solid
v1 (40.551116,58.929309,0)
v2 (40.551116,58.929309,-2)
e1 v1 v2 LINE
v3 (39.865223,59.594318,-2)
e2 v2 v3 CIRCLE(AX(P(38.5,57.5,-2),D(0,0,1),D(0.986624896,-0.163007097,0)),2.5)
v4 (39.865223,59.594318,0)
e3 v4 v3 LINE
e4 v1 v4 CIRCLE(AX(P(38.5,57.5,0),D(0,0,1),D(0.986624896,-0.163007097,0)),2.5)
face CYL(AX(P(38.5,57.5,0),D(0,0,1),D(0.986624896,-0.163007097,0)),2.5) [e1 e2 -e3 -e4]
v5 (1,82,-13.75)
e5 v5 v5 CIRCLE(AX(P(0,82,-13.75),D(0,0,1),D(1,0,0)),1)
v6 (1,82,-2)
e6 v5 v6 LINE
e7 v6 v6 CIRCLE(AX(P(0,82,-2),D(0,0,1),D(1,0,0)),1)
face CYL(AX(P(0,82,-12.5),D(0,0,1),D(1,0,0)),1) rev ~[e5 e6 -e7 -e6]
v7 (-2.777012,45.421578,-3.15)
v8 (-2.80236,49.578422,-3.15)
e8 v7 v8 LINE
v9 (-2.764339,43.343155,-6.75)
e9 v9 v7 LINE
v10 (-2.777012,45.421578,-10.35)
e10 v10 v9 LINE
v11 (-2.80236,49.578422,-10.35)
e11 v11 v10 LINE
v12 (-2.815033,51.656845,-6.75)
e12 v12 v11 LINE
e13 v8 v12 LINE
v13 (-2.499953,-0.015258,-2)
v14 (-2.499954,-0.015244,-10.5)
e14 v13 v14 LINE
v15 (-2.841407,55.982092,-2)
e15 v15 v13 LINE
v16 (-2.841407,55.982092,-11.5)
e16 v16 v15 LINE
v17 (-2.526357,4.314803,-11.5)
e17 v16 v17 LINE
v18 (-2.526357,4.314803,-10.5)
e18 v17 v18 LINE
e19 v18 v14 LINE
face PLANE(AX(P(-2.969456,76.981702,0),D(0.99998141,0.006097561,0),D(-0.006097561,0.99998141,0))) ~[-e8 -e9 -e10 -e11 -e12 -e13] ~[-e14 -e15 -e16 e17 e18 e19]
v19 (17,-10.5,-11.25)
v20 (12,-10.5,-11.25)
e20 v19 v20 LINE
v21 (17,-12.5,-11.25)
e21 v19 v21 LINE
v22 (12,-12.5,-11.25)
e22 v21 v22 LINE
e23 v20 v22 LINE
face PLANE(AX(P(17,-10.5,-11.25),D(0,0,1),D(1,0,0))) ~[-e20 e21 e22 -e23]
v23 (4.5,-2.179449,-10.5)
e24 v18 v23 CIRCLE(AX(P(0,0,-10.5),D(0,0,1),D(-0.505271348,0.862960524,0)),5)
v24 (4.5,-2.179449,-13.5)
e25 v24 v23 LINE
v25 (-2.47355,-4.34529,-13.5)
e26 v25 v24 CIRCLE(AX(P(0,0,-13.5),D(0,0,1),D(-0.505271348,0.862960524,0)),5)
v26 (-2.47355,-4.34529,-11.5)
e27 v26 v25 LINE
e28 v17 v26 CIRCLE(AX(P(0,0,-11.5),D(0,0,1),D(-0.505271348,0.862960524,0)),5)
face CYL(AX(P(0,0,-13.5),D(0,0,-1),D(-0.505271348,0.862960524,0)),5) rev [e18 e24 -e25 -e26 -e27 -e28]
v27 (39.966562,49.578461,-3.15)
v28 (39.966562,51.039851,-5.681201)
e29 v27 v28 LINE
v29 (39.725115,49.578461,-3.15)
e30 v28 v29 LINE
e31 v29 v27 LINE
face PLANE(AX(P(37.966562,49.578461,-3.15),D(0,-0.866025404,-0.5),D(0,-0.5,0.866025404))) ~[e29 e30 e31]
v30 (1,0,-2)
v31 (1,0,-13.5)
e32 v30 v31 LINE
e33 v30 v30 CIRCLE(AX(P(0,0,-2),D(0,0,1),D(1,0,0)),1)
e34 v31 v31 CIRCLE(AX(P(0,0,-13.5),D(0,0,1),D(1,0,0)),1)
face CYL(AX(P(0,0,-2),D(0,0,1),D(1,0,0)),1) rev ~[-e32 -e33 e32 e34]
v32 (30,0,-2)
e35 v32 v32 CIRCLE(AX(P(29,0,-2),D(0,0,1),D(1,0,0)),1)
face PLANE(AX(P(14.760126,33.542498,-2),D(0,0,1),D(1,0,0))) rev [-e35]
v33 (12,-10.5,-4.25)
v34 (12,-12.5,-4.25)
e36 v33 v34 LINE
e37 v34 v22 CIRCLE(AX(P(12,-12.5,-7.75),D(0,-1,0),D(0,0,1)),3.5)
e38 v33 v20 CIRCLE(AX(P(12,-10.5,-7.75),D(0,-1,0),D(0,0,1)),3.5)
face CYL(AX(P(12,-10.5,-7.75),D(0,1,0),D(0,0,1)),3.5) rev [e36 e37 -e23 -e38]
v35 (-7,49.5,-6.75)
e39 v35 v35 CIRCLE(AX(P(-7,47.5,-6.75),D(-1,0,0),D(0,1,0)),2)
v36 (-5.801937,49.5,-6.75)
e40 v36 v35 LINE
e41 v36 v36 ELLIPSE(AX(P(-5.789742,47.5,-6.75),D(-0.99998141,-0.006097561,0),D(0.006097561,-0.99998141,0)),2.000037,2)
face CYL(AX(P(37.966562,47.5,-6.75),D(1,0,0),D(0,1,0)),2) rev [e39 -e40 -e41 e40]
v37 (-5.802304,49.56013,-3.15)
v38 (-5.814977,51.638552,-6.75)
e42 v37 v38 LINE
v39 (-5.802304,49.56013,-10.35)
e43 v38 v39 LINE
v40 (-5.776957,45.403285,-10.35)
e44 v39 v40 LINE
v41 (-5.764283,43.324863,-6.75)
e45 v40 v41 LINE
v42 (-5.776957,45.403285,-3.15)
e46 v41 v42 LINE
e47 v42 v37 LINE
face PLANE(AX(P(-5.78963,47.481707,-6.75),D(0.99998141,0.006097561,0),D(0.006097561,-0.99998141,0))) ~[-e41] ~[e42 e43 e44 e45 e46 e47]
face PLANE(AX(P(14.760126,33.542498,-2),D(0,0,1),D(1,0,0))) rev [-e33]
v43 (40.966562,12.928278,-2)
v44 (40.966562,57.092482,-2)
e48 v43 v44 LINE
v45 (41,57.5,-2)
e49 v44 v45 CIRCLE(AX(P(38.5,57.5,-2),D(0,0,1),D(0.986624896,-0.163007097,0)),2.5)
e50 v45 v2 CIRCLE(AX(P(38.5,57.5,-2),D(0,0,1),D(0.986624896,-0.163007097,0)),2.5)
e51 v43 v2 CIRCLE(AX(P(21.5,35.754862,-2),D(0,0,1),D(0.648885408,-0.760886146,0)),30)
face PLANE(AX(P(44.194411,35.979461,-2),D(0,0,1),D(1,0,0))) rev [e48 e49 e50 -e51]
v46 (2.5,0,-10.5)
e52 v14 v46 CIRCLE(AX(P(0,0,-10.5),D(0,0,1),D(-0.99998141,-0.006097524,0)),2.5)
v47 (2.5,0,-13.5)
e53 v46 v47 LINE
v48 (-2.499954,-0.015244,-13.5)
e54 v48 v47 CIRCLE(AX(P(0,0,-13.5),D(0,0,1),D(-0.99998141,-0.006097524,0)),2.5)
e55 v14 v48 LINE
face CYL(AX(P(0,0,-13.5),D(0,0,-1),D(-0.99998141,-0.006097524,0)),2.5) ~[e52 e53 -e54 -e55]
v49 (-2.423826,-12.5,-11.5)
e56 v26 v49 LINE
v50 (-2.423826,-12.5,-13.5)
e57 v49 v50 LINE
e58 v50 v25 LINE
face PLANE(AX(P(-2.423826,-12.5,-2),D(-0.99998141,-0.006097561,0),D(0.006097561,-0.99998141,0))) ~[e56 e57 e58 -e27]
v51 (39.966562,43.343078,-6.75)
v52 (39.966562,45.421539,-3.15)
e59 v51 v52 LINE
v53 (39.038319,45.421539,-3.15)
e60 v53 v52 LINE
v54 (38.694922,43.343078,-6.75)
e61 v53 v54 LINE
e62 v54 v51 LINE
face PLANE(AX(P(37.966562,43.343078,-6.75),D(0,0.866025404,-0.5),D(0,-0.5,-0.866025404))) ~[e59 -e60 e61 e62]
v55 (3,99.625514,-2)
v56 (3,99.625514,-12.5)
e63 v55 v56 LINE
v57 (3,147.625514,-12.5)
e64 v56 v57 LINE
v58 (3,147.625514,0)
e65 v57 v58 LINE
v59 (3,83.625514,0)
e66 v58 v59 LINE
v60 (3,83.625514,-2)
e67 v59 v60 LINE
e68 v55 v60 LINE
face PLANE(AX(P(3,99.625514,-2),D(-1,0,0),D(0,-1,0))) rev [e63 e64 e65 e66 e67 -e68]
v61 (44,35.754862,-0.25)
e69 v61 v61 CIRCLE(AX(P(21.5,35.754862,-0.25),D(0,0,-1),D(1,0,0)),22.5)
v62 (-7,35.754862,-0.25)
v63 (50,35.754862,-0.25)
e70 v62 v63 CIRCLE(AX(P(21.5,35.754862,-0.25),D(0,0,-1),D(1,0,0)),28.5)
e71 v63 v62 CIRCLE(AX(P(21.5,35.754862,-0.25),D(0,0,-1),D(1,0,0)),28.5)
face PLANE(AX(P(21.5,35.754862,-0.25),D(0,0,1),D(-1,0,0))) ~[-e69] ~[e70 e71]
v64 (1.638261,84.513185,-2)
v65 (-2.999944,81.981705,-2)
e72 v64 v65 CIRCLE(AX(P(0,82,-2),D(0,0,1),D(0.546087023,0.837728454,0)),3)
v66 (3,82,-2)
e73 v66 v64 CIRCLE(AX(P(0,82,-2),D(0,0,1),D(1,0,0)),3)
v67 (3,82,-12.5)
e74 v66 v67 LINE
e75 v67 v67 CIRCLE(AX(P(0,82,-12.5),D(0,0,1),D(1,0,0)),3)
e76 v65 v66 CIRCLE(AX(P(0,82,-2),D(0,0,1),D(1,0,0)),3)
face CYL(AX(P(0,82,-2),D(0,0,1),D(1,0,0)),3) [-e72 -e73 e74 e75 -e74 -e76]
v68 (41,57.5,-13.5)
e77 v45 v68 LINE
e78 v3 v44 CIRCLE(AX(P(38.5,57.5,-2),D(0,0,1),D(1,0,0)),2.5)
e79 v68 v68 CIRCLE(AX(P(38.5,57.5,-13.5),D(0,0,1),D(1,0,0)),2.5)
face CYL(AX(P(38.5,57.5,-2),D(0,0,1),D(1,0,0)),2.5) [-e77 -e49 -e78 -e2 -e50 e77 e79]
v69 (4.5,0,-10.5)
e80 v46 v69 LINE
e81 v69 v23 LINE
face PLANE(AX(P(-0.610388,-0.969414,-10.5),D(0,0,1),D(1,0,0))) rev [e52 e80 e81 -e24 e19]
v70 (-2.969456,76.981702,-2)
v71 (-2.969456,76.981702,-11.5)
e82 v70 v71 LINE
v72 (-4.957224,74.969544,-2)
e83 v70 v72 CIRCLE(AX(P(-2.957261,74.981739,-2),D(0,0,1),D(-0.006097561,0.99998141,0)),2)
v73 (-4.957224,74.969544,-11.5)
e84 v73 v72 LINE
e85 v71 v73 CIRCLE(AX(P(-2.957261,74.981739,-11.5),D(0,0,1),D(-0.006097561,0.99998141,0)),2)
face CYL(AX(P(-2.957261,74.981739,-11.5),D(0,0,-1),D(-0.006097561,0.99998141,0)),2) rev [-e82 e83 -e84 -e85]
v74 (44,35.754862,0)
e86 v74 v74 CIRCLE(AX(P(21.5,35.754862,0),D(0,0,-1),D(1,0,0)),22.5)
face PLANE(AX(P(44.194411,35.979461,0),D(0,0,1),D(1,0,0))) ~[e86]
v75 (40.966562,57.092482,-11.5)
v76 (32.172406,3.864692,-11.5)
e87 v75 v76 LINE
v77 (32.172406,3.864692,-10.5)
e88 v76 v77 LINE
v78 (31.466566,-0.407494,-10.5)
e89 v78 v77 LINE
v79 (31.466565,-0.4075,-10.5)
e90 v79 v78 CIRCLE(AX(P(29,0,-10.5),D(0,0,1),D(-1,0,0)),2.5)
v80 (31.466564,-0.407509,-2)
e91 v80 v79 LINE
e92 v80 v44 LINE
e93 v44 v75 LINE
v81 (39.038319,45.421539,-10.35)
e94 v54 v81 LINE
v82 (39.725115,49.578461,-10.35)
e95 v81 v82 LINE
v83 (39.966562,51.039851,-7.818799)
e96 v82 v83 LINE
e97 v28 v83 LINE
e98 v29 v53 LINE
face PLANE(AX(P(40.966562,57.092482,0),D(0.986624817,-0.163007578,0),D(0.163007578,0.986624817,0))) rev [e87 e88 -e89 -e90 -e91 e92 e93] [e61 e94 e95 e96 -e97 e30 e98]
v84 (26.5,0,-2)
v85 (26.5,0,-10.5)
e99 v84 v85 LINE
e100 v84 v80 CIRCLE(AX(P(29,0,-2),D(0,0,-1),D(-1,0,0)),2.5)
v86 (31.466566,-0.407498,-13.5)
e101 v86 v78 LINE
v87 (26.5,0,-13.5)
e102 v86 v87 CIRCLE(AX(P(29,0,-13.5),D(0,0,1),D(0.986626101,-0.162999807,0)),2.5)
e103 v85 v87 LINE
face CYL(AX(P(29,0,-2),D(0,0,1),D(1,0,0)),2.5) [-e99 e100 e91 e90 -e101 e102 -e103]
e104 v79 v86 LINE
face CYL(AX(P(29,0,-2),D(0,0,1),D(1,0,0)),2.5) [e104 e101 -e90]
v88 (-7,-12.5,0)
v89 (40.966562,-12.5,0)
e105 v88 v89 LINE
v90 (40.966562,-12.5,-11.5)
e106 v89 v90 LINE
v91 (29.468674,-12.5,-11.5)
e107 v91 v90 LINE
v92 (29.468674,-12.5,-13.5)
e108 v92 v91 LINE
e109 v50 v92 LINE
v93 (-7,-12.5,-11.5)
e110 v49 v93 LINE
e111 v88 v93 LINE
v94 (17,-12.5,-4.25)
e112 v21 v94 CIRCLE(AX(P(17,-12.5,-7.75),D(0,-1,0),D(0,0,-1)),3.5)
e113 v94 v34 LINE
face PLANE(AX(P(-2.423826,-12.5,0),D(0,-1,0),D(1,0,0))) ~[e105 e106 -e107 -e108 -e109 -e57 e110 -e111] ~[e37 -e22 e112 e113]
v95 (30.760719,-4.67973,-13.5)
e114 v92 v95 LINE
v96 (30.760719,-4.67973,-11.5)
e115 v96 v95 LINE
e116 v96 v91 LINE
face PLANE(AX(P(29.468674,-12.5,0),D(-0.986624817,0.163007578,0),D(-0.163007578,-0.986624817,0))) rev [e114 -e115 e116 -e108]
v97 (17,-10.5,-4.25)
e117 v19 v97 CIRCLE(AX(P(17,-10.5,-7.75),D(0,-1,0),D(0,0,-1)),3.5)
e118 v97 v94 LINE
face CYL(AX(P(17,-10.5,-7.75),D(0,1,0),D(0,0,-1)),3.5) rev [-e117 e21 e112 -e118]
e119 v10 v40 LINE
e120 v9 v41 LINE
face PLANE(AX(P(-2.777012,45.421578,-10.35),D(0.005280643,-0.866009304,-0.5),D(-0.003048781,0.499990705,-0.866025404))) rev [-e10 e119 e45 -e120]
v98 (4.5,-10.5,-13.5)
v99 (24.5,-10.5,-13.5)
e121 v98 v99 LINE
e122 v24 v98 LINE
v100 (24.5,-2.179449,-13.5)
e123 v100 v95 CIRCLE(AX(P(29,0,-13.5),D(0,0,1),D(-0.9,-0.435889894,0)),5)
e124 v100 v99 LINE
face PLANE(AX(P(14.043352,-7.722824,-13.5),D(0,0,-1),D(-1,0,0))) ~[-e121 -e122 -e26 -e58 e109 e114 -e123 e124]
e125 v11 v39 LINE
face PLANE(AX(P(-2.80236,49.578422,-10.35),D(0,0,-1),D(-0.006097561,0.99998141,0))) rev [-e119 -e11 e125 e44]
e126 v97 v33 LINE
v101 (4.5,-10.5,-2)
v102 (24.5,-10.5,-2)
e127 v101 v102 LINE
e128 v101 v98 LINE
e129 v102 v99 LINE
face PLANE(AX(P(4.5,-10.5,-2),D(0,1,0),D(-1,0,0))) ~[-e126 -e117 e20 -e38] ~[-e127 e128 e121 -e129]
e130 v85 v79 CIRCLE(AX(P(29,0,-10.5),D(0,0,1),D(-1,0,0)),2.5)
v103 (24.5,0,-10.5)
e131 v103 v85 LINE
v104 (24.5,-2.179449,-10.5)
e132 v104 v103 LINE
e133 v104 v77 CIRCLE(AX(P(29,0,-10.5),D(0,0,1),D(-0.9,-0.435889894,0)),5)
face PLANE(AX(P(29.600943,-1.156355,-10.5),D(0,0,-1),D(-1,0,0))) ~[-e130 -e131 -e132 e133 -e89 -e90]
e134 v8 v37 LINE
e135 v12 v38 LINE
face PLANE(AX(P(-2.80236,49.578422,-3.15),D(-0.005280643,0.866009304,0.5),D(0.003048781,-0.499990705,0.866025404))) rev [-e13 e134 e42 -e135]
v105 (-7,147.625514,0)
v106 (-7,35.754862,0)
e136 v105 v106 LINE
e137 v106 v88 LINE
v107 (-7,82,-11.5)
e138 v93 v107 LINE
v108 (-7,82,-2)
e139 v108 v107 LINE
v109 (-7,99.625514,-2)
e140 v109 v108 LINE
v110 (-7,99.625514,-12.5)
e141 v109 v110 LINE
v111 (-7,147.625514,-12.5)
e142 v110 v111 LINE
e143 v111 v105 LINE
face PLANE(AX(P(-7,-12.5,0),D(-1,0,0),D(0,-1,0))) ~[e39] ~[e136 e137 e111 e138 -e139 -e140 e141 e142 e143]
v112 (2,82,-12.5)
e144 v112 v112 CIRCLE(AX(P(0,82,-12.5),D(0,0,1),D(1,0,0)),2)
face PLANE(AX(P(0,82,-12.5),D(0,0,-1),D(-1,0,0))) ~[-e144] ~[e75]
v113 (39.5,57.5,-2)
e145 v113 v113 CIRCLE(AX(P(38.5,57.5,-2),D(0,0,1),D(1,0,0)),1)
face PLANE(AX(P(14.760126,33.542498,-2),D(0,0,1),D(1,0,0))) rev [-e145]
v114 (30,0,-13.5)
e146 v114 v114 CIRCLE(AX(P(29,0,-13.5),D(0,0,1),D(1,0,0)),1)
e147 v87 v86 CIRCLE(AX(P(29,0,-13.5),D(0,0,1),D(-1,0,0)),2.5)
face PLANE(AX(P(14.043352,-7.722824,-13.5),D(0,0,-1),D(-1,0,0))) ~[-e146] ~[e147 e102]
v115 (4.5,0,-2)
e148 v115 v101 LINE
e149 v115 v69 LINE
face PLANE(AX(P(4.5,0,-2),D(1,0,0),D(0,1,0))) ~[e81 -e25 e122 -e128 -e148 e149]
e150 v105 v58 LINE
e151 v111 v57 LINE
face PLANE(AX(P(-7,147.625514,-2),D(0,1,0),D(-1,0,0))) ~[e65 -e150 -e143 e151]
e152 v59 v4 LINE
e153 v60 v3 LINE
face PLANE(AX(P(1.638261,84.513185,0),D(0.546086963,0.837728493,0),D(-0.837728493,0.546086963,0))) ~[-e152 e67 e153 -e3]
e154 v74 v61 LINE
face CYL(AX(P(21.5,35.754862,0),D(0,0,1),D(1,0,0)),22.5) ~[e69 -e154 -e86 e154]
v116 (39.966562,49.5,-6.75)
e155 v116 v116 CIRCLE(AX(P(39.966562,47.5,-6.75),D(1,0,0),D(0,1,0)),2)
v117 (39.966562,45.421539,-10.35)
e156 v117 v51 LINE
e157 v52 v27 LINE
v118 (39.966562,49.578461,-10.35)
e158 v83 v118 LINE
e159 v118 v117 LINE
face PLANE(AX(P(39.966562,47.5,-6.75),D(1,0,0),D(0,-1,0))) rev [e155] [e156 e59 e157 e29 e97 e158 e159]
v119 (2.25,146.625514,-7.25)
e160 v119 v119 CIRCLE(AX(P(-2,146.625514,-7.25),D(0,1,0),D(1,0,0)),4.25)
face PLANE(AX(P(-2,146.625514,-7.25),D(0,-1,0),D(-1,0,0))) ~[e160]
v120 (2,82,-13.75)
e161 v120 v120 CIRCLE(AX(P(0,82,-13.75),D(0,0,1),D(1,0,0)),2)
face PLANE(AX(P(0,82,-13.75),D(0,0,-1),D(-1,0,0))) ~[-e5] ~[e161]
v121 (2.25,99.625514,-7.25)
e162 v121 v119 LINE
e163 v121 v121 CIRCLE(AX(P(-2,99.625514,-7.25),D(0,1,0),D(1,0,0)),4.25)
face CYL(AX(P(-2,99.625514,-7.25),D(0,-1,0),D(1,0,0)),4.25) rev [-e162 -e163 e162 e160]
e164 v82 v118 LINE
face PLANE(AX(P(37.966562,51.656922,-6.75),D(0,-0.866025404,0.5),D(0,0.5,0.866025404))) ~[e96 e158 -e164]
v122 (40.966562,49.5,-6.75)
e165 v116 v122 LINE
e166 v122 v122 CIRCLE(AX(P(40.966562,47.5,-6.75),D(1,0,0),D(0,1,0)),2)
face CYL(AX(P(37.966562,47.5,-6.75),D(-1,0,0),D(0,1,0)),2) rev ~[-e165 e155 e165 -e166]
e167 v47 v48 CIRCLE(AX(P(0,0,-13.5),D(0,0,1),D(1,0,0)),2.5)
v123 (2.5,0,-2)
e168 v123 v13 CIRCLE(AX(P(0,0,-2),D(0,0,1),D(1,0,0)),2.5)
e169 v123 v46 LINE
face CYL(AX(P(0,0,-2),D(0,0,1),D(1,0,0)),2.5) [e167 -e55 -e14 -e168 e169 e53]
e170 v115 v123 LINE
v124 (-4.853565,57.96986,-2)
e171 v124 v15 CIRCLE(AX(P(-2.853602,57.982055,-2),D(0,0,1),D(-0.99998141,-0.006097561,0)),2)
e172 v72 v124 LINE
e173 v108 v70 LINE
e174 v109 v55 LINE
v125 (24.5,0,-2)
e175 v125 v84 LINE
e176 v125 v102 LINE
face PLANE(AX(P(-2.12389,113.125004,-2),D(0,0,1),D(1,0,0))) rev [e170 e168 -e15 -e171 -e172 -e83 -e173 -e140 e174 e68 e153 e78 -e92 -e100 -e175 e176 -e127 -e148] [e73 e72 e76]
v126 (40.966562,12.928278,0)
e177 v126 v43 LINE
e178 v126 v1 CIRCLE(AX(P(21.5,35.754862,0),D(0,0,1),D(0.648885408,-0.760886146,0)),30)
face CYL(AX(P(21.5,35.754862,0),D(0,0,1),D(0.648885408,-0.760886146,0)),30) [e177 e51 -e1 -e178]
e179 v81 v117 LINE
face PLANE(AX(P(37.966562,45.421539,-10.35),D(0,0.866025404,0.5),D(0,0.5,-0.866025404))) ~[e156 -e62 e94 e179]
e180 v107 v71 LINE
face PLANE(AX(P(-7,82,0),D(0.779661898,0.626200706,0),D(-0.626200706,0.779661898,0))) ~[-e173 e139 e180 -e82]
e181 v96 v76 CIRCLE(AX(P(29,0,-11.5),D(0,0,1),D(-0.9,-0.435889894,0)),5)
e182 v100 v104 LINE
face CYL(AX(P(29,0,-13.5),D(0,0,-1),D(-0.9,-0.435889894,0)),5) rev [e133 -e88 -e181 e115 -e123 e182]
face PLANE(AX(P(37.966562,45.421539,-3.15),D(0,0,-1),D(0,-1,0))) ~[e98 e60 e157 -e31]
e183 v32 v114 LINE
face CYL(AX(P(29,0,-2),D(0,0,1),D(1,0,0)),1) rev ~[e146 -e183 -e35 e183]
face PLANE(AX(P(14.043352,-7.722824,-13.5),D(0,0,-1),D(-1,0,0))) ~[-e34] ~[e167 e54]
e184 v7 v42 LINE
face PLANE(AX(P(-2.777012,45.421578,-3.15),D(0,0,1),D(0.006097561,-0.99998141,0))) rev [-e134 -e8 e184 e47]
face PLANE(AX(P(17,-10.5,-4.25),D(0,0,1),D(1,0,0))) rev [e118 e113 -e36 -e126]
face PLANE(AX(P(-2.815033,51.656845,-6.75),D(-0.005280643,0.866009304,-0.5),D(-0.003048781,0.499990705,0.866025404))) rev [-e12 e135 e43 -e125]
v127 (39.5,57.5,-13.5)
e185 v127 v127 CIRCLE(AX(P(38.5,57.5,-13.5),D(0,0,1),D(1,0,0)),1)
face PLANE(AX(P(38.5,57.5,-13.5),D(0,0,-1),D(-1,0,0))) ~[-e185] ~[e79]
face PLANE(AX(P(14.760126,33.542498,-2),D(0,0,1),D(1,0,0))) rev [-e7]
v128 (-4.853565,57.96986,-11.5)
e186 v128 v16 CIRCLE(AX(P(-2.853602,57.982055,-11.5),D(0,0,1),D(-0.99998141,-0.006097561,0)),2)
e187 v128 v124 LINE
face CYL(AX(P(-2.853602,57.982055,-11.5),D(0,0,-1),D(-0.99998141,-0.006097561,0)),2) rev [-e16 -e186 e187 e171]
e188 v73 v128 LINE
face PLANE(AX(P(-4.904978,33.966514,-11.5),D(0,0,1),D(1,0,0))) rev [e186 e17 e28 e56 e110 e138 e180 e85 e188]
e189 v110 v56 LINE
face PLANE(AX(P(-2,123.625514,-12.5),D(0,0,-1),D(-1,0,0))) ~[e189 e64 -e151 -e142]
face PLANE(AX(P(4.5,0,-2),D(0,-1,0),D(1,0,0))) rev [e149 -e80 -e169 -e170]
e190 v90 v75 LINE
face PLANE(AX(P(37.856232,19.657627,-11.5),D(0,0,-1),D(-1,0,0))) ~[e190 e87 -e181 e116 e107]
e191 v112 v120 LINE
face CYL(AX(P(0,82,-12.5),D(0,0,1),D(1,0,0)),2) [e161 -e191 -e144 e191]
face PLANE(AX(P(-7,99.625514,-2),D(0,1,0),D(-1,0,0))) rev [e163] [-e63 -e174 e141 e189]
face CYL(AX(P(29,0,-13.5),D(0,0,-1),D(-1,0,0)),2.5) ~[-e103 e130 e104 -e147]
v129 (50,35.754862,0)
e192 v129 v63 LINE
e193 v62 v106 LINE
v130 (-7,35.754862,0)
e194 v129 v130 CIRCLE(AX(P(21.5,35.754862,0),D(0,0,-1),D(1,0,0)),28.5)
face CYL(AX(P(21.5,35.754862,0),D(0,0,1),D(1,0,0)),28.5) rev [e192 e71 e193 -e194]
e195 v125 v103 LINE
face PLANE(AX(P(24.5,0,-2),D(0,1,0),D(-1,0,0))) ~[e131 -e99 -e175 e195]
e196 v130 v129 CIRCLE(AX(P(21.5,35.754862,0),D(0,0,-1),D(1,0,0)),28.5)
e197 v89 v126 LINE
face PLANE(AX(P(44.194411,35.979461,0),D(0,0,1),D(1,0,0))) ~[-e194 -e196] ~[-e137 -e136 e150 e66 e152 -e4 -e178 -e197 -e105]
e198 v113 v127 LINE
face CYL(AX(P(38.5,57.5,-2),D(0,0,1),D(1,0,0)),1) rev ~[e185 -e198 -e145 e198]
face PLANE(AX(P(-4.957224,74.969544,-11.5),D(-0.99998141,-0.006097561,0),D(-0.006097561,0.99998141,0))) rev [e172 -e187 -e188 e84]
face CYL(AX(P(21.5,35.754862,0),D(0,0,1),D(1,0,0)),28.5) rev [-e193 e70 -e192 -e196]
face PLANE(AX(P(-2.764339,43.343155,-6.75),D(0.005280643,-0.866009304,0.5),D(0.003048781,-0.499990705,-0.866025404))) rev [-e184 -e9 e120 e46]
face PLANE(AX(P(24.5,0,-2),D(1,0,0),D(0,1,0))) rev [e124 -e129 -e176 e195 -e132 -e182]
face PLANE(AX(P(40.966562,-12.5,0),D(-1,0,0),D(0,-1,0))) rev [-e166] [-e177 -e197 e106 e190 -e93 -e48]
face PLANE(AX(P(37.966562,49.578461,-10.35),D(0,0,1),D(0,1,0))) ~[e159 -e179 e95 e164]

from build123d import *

# Parameters (mm, degrees)
PAD_DEPTH            = 2
SKETCH001_R          = 2.5
SKETCH001_R_2        = 1
PAD003_DEPTH         = 11.5
SKETCH003_R          = 3
SKETCH003_R_2        = 1
PAD004_DEPTH         = 10.5
SKETCH006_R          = 2
SKETCH006_R_2        = 1
PAD007_DEPTH         = 1.25
PAD010_DEPTH         = 2
SKETCH008_W          = 10
SKETCH008_H          = 48
PAD009_DEPTH         = 10.5
SKETCH009_R          = 4.25
POCKET_DEPTH         = 47
PAD011_DEPTH         = 11.5
POCKET001_DEPTH      = 2
PAD012_DEPTH         = 11.5
POCKET002_DEPTH      = 2
SKETCH017_R          = 2
POCKET003_DEPTH      = 100
POCKET003_DEPTH_BACK = 100
POCKET004_DEPTH      = 3
POCKET005_DEPTH      = 3
POCKET006_DEPTH      = 9.5
PAD013_DEPTH         = 2
SKETCH023_R          = 28.5
SKETCH023_R_2        = 22.5
POCKET007_DEPTH      = 0.25


with BuildPart() as body:
    # Sketch → Pad (new body)
    with BuildSketch(Plane.XY):
        with BuildLine():
            Line((1.6382610688, 84.5131853633), (39.8652231068, 59.5943175186))
            ThreePointArc((40.9665622412, 57.0924822575), (40.788108314, 58.5072538624), (39.8652231068, 59.5943175186))
            Line((31.4665652521, -0.4074995185), (40.9665622412, 57.0924822575))
            Line((31.4665652521, -0.4074995185), (29.4686738682, -12.5))
            Line((-2.4238255474, -12.5), (29.4686738682, -12.5))
            Line((-2.999944227, 81.9817069741), (-2.4238255474, -12.5))
            ThreePointArc((1.6382610688, 84.5131853633), (-1.4372337891, 84.6333171164), (-2.999944227, 81.9817069741))
        make_face()
    extrude(amount=PAD_DEPTH)

    # Sketch001 (on Face9 of Pad) → Pad003 (join)
    with BuildSketch(Plane.XY.offset(2)):
        Circle(SKETCH001_R)
        Circle(SKETCH001_R_2, mode=Mode.SUBTRACT)
        with Locations((29, 0)):
            Circle(SKETCH001_R)
        with Locations((29, 0)):
            Circle(SKETCH001_R_2, mode=Mode.SUBTRACT)
        with Locations((38.5, 57.5)):
            Circle(SKETCH001_R)
        with Locations((38.5, 57.5)):
            Circle(SKETCH001_R_2, mode=Mode.SUBTRACT)
    extrude(amount=PAD003_DEPTH)

    # Sketch003 (on Face5 of Pad003) → Pad004 (join)
    with BuildSketch(Plane.XY.offset(2)):
        with Locations((0, 82)):
            Circle(SKETCH003_R)
        with Locations((0, 82)):
            Circle(SKETCH003_R_2, mode=Mode.SUBTRACT)
    extrude(amount=PAD004_DEPTH)

    # Sketch006 (on Face11 of Pad004) → Pad007 (join)
    with BuildSketch(Plane.XY.offset(12.5)):
        with Locations((0, 82)):
            Circle(SKETCH006_R)
        with Locations((0, 82)):
            Circle(SKETCH006_R_2, mode=Mode.SUBTRACT)
    extrude(amount=PAD007_DEPTH)

    # Sketch011 → Pad010 (join)
    with BuildSketch(Plane.XY):
        with BuildLine():
            Line((-7, 147.625513661), (3, 147.625513661))
            Line((3, 147.625513661), (3, 83.625513661))
            Line((1.6382610688, 84.5131853633), (3, 83.625513661))
            ThreePointArc((1.6382610688, 84.5131853633), (-1.4372359533, 84.6333159352), (-2.9999441969, 81.9817020431))
            Line((-2.9999441969, 81.9817020431), (-2.9694558253, 76.9817020431))
            Line((-7, 82), (-2.9694558253, 76.9817020431))
            Line((-7, 147.625513661), (-7, 82))
        make_face()
    extrude(amount=PAD010_DEPTH)

    # Sketch008 (on Face13 of Pad010) → Pad009 (join)
    with BuildSketch(Plane.XY.offset(2)):
        with Locations((-2, 123.625513661)):
            Rectangle(SKETCH008_W, SKETCH008_H)
    extrude(amount=PAD009_DEPTH)

    # Sketch009 (on Face22 of Pad009) → Pocket (cut)
    with BuildSketch(Plane.XZ.offset(-99.625513661)):
        with Locations((-2, 7.25)):
            Circle(SKETCH009_R)
    extrude(amount=-POCKET_DEPTH, mode=Mode.SUBTRACT)

    # Sketch012 (on Face4 of Pocket) → Pad011 (join)
    with BuildSketch(Plane.XY.offset(2)):
        with BuildLine():
            Line((4.5, 0), (2.5, 0))
            ThreePointArc((-2.4999535249, -0.0152438001), (0.0076219355, -2.4999883812), (2.5, 0))
            Line((-2.4238255474, -12.5), (-2.4999535249, -0.0152438001))
            Line((-2.4238255474, -12.5), (29.4686738682, -12.5))
            Line((29.4686738682, -12.5), (31.4665652521, -0.4074995185))
            ThreePointArc((26.4999999999, 0), (28.7955655729, -2.4916272926), (31.4665652521, -0.4074995185))
            Line((24.5, 0), (26.4999999999, 0))
            Line((24.5, 0), (24.5, -10.5))
            Line((4.5, -10.5), (24.5, -10.5))
            Line((4.5, 0), (4.5, -10.5))
        make_face()
    extrude(amount=PAD011_DEPTH)

    # Sketch013 (on Face16 of Pad011) → Pocket001 (cut)
    with BuildSketch(Plane(origin=(0, -10.5, 0), x_dir=(-1, 0, 0), z_dir=(0, 1, 0))):
        with BuildLine():
            ThreePointArc((-17, 11.25), (-20.5, 7.75), (-17, 4.25))
            Line((-17, 4.25), (-12, 4.25))
            ThreePointArc((-12, 4.25), (-8.5, 7.75), (-12, 11.25))
            Line((-17, 11.25), (-12, 11.25))
        make_face()
    extrude(amount=-POCKET001_DEPTH, mode=Mode.SUBTRACT)

    # Sketch014 → Pad012 (join)
    with BuildSketch(Plane.XY):
        Polygon((-7, 82), (-2.9694558253, 76.9817020431), (-2.4238255474, -12.5), (-7, -12.5), align=None)
        Polygon((40.9665622412, 57.0924822575), (29.4686738682, -12.5), (40.9665622412, -12.5), align=None)
    extrude(amount=PAD012_DEPTH)

    # Sketch016 (on DatumPlane) → Pocket002 (cut)
    with BuildSketch(Plane.YZ.offset(37.9665622412)):
        Polygon((51.6569219382, 6.75), (49.5784609691, 10.35), (45.4215390309, 10.35), (43.3430780618, 6.75), (45.4215390309, 3.15), (49.5784609691, 3.15), align=None)
    extrude(amount=POCKET002_DEPTH, mode=Mode.SUBTRACT)

    # Sketch017 (on DatumPlane) → Pocket003 (cut, two sides)
    with BuildSketch(Plane.YZ.offset(37.9665622412)) as pocket003_sk:
        with Locations((47.5, 6.75)):
            Circle(SKETCH017_R)
    extrude(amount=-POCKET003_DEPTH, mode=Mode.SUBTRACT)
    extrude(pocket003_sk.sketch, amount=POCKET003_DEPTH_BACK, mode=Mode.SUBTRACT)

    # Sketch018 (on Face13 of Pocket003) → Pocket004 (cut)
    with BuildSketch(Plane(origin=(-2.4999535243, -0.0152439024, 0), x_dir=(-0.006097561, 0.9999814097, 0), z_dir=(0.9999814097, 0.006097561, 0))):
        Polygon((51.6730491796, 6.75), (49.5945882105, 10.35), (45.4376662723, 10.35), (43.3592053032, 6.75), (45.4376662723, 3.15), (49.5945882105, 3.15), align=None)
    extrude(amount=-POCKET004_DEPTH, mode=Mode.SUBTRACT)

    # Sketch019 (on Face45 of Pocket004) → Pocket005 (cut)
    with BuildSketch(Plane.XY.offset(13.5)):
        with BuildLine():
            ThreePointArc((-2.4999535248, -0.0152438096), (0.0076219402, -2.4999883812), (2.5, 0))
            Line((2.5, 0), (4.5, 0))
            Line((4.5, 0), (4.5, -2.1794494718))
            ThreePointArc((-2.5263567378, 4.3148026181), (-3.3937655316, -3.671832719), (4.5, -2.1794494718))
            Line((-2.5263567378, 4.3148026181), (-2.4999535248, -0.0152438096))
        make_face()
        with BuildLine():
            ThreePointArc((24.5, -2.1794494718), (32.0941134062, -3.9276535272), (32.172405562, 3.8646918312))
            Line((31.4665660971, -0.4074944038), (32.172405562, 3.8646918312))
            ThreePointArc((26.4999999999, 0), (28.7955681562, -2.4916275046), (31.4665660971, -0.4074944038))
            Line((24.5, 0), (26.4999999999, 0))
            Line((24.5, -2.1794494718), (24.5, 0))
        make_face()
    extrude(amount=-POCKET005_DEPTH, mode=Mode.SUBTRACT)

    # Sketch021 (on Face38 of Pocket005) → Pocket006 (cut)
    with BuildSketch(Plane.XY.offset(11.5)):
        with BuildLine():
            ThreePointArc((-2.9694558253, 76.9817020431), (-4.3800712285, 76.387303242), (-4.9572235227, 74.9695441018))
            Line((-4.9572235227, 74.9695441018), (-4.8535649862, 57.9698601368))
            ThreePointArc((-4.8535649862, 57.9698601368), (-4.259166185, 56.5592447336), (-2.8414070448, 55.9820924394))
            Line((-2.8414070448, 55.9820924394), (-2.9694558253, 76.9817020431))
        make_face()
    extrude(amount=-POCKET006_DEPTH, mode=Mode.SUBTRACT)

    # Sketch022 → Pad013 (join)
    with BuildSketch(Plane.XY):
        with BuildLine():
            Line((40.9665622412, 12.9282777021), (40.9665622412, 57.0924822575))
            ThreePointArc((40.9665622412, 57.0924822575), (40.9384086484, 58.0515099848), (40.5511157715, 58.9293089561))
            ThreePointArc((40.9665622412, 12.9282777021), (51.4987766247, 36.0257883104), (40.5511157715, 58.9293089561))
        make_face()
    extrude(amount=PAD013_DEPTH)

    # Sketch023 (on Face7 of Pad013) → Pocket007 (cut)
    with BuildSketch(Plane(origin=(0, 0, 0), x_dir=(1, 0, 0), z_dir=(0, 0, -1))):
        with Locations((21.5, -35.7548620833)):
            Circle(SKETCH023_R)
        with Locations((21.5, -35.7548620833)):
            Circle(SKETCH023_R_2, mode=Mode.SUBTRACT)
    extrude(amount=-POCKET007_DEPTH, mode=Mode.SUBTRACT)


with BuildPart() as part_mirroring:
    # Part__Mirroring: instance of Body
    add(body.part.mirror(Plane(origin=(0, 0, 0), x_dir=(0, 1, 0), z_dir=(0, 0, 1))))


solid = part_mirroring.part
